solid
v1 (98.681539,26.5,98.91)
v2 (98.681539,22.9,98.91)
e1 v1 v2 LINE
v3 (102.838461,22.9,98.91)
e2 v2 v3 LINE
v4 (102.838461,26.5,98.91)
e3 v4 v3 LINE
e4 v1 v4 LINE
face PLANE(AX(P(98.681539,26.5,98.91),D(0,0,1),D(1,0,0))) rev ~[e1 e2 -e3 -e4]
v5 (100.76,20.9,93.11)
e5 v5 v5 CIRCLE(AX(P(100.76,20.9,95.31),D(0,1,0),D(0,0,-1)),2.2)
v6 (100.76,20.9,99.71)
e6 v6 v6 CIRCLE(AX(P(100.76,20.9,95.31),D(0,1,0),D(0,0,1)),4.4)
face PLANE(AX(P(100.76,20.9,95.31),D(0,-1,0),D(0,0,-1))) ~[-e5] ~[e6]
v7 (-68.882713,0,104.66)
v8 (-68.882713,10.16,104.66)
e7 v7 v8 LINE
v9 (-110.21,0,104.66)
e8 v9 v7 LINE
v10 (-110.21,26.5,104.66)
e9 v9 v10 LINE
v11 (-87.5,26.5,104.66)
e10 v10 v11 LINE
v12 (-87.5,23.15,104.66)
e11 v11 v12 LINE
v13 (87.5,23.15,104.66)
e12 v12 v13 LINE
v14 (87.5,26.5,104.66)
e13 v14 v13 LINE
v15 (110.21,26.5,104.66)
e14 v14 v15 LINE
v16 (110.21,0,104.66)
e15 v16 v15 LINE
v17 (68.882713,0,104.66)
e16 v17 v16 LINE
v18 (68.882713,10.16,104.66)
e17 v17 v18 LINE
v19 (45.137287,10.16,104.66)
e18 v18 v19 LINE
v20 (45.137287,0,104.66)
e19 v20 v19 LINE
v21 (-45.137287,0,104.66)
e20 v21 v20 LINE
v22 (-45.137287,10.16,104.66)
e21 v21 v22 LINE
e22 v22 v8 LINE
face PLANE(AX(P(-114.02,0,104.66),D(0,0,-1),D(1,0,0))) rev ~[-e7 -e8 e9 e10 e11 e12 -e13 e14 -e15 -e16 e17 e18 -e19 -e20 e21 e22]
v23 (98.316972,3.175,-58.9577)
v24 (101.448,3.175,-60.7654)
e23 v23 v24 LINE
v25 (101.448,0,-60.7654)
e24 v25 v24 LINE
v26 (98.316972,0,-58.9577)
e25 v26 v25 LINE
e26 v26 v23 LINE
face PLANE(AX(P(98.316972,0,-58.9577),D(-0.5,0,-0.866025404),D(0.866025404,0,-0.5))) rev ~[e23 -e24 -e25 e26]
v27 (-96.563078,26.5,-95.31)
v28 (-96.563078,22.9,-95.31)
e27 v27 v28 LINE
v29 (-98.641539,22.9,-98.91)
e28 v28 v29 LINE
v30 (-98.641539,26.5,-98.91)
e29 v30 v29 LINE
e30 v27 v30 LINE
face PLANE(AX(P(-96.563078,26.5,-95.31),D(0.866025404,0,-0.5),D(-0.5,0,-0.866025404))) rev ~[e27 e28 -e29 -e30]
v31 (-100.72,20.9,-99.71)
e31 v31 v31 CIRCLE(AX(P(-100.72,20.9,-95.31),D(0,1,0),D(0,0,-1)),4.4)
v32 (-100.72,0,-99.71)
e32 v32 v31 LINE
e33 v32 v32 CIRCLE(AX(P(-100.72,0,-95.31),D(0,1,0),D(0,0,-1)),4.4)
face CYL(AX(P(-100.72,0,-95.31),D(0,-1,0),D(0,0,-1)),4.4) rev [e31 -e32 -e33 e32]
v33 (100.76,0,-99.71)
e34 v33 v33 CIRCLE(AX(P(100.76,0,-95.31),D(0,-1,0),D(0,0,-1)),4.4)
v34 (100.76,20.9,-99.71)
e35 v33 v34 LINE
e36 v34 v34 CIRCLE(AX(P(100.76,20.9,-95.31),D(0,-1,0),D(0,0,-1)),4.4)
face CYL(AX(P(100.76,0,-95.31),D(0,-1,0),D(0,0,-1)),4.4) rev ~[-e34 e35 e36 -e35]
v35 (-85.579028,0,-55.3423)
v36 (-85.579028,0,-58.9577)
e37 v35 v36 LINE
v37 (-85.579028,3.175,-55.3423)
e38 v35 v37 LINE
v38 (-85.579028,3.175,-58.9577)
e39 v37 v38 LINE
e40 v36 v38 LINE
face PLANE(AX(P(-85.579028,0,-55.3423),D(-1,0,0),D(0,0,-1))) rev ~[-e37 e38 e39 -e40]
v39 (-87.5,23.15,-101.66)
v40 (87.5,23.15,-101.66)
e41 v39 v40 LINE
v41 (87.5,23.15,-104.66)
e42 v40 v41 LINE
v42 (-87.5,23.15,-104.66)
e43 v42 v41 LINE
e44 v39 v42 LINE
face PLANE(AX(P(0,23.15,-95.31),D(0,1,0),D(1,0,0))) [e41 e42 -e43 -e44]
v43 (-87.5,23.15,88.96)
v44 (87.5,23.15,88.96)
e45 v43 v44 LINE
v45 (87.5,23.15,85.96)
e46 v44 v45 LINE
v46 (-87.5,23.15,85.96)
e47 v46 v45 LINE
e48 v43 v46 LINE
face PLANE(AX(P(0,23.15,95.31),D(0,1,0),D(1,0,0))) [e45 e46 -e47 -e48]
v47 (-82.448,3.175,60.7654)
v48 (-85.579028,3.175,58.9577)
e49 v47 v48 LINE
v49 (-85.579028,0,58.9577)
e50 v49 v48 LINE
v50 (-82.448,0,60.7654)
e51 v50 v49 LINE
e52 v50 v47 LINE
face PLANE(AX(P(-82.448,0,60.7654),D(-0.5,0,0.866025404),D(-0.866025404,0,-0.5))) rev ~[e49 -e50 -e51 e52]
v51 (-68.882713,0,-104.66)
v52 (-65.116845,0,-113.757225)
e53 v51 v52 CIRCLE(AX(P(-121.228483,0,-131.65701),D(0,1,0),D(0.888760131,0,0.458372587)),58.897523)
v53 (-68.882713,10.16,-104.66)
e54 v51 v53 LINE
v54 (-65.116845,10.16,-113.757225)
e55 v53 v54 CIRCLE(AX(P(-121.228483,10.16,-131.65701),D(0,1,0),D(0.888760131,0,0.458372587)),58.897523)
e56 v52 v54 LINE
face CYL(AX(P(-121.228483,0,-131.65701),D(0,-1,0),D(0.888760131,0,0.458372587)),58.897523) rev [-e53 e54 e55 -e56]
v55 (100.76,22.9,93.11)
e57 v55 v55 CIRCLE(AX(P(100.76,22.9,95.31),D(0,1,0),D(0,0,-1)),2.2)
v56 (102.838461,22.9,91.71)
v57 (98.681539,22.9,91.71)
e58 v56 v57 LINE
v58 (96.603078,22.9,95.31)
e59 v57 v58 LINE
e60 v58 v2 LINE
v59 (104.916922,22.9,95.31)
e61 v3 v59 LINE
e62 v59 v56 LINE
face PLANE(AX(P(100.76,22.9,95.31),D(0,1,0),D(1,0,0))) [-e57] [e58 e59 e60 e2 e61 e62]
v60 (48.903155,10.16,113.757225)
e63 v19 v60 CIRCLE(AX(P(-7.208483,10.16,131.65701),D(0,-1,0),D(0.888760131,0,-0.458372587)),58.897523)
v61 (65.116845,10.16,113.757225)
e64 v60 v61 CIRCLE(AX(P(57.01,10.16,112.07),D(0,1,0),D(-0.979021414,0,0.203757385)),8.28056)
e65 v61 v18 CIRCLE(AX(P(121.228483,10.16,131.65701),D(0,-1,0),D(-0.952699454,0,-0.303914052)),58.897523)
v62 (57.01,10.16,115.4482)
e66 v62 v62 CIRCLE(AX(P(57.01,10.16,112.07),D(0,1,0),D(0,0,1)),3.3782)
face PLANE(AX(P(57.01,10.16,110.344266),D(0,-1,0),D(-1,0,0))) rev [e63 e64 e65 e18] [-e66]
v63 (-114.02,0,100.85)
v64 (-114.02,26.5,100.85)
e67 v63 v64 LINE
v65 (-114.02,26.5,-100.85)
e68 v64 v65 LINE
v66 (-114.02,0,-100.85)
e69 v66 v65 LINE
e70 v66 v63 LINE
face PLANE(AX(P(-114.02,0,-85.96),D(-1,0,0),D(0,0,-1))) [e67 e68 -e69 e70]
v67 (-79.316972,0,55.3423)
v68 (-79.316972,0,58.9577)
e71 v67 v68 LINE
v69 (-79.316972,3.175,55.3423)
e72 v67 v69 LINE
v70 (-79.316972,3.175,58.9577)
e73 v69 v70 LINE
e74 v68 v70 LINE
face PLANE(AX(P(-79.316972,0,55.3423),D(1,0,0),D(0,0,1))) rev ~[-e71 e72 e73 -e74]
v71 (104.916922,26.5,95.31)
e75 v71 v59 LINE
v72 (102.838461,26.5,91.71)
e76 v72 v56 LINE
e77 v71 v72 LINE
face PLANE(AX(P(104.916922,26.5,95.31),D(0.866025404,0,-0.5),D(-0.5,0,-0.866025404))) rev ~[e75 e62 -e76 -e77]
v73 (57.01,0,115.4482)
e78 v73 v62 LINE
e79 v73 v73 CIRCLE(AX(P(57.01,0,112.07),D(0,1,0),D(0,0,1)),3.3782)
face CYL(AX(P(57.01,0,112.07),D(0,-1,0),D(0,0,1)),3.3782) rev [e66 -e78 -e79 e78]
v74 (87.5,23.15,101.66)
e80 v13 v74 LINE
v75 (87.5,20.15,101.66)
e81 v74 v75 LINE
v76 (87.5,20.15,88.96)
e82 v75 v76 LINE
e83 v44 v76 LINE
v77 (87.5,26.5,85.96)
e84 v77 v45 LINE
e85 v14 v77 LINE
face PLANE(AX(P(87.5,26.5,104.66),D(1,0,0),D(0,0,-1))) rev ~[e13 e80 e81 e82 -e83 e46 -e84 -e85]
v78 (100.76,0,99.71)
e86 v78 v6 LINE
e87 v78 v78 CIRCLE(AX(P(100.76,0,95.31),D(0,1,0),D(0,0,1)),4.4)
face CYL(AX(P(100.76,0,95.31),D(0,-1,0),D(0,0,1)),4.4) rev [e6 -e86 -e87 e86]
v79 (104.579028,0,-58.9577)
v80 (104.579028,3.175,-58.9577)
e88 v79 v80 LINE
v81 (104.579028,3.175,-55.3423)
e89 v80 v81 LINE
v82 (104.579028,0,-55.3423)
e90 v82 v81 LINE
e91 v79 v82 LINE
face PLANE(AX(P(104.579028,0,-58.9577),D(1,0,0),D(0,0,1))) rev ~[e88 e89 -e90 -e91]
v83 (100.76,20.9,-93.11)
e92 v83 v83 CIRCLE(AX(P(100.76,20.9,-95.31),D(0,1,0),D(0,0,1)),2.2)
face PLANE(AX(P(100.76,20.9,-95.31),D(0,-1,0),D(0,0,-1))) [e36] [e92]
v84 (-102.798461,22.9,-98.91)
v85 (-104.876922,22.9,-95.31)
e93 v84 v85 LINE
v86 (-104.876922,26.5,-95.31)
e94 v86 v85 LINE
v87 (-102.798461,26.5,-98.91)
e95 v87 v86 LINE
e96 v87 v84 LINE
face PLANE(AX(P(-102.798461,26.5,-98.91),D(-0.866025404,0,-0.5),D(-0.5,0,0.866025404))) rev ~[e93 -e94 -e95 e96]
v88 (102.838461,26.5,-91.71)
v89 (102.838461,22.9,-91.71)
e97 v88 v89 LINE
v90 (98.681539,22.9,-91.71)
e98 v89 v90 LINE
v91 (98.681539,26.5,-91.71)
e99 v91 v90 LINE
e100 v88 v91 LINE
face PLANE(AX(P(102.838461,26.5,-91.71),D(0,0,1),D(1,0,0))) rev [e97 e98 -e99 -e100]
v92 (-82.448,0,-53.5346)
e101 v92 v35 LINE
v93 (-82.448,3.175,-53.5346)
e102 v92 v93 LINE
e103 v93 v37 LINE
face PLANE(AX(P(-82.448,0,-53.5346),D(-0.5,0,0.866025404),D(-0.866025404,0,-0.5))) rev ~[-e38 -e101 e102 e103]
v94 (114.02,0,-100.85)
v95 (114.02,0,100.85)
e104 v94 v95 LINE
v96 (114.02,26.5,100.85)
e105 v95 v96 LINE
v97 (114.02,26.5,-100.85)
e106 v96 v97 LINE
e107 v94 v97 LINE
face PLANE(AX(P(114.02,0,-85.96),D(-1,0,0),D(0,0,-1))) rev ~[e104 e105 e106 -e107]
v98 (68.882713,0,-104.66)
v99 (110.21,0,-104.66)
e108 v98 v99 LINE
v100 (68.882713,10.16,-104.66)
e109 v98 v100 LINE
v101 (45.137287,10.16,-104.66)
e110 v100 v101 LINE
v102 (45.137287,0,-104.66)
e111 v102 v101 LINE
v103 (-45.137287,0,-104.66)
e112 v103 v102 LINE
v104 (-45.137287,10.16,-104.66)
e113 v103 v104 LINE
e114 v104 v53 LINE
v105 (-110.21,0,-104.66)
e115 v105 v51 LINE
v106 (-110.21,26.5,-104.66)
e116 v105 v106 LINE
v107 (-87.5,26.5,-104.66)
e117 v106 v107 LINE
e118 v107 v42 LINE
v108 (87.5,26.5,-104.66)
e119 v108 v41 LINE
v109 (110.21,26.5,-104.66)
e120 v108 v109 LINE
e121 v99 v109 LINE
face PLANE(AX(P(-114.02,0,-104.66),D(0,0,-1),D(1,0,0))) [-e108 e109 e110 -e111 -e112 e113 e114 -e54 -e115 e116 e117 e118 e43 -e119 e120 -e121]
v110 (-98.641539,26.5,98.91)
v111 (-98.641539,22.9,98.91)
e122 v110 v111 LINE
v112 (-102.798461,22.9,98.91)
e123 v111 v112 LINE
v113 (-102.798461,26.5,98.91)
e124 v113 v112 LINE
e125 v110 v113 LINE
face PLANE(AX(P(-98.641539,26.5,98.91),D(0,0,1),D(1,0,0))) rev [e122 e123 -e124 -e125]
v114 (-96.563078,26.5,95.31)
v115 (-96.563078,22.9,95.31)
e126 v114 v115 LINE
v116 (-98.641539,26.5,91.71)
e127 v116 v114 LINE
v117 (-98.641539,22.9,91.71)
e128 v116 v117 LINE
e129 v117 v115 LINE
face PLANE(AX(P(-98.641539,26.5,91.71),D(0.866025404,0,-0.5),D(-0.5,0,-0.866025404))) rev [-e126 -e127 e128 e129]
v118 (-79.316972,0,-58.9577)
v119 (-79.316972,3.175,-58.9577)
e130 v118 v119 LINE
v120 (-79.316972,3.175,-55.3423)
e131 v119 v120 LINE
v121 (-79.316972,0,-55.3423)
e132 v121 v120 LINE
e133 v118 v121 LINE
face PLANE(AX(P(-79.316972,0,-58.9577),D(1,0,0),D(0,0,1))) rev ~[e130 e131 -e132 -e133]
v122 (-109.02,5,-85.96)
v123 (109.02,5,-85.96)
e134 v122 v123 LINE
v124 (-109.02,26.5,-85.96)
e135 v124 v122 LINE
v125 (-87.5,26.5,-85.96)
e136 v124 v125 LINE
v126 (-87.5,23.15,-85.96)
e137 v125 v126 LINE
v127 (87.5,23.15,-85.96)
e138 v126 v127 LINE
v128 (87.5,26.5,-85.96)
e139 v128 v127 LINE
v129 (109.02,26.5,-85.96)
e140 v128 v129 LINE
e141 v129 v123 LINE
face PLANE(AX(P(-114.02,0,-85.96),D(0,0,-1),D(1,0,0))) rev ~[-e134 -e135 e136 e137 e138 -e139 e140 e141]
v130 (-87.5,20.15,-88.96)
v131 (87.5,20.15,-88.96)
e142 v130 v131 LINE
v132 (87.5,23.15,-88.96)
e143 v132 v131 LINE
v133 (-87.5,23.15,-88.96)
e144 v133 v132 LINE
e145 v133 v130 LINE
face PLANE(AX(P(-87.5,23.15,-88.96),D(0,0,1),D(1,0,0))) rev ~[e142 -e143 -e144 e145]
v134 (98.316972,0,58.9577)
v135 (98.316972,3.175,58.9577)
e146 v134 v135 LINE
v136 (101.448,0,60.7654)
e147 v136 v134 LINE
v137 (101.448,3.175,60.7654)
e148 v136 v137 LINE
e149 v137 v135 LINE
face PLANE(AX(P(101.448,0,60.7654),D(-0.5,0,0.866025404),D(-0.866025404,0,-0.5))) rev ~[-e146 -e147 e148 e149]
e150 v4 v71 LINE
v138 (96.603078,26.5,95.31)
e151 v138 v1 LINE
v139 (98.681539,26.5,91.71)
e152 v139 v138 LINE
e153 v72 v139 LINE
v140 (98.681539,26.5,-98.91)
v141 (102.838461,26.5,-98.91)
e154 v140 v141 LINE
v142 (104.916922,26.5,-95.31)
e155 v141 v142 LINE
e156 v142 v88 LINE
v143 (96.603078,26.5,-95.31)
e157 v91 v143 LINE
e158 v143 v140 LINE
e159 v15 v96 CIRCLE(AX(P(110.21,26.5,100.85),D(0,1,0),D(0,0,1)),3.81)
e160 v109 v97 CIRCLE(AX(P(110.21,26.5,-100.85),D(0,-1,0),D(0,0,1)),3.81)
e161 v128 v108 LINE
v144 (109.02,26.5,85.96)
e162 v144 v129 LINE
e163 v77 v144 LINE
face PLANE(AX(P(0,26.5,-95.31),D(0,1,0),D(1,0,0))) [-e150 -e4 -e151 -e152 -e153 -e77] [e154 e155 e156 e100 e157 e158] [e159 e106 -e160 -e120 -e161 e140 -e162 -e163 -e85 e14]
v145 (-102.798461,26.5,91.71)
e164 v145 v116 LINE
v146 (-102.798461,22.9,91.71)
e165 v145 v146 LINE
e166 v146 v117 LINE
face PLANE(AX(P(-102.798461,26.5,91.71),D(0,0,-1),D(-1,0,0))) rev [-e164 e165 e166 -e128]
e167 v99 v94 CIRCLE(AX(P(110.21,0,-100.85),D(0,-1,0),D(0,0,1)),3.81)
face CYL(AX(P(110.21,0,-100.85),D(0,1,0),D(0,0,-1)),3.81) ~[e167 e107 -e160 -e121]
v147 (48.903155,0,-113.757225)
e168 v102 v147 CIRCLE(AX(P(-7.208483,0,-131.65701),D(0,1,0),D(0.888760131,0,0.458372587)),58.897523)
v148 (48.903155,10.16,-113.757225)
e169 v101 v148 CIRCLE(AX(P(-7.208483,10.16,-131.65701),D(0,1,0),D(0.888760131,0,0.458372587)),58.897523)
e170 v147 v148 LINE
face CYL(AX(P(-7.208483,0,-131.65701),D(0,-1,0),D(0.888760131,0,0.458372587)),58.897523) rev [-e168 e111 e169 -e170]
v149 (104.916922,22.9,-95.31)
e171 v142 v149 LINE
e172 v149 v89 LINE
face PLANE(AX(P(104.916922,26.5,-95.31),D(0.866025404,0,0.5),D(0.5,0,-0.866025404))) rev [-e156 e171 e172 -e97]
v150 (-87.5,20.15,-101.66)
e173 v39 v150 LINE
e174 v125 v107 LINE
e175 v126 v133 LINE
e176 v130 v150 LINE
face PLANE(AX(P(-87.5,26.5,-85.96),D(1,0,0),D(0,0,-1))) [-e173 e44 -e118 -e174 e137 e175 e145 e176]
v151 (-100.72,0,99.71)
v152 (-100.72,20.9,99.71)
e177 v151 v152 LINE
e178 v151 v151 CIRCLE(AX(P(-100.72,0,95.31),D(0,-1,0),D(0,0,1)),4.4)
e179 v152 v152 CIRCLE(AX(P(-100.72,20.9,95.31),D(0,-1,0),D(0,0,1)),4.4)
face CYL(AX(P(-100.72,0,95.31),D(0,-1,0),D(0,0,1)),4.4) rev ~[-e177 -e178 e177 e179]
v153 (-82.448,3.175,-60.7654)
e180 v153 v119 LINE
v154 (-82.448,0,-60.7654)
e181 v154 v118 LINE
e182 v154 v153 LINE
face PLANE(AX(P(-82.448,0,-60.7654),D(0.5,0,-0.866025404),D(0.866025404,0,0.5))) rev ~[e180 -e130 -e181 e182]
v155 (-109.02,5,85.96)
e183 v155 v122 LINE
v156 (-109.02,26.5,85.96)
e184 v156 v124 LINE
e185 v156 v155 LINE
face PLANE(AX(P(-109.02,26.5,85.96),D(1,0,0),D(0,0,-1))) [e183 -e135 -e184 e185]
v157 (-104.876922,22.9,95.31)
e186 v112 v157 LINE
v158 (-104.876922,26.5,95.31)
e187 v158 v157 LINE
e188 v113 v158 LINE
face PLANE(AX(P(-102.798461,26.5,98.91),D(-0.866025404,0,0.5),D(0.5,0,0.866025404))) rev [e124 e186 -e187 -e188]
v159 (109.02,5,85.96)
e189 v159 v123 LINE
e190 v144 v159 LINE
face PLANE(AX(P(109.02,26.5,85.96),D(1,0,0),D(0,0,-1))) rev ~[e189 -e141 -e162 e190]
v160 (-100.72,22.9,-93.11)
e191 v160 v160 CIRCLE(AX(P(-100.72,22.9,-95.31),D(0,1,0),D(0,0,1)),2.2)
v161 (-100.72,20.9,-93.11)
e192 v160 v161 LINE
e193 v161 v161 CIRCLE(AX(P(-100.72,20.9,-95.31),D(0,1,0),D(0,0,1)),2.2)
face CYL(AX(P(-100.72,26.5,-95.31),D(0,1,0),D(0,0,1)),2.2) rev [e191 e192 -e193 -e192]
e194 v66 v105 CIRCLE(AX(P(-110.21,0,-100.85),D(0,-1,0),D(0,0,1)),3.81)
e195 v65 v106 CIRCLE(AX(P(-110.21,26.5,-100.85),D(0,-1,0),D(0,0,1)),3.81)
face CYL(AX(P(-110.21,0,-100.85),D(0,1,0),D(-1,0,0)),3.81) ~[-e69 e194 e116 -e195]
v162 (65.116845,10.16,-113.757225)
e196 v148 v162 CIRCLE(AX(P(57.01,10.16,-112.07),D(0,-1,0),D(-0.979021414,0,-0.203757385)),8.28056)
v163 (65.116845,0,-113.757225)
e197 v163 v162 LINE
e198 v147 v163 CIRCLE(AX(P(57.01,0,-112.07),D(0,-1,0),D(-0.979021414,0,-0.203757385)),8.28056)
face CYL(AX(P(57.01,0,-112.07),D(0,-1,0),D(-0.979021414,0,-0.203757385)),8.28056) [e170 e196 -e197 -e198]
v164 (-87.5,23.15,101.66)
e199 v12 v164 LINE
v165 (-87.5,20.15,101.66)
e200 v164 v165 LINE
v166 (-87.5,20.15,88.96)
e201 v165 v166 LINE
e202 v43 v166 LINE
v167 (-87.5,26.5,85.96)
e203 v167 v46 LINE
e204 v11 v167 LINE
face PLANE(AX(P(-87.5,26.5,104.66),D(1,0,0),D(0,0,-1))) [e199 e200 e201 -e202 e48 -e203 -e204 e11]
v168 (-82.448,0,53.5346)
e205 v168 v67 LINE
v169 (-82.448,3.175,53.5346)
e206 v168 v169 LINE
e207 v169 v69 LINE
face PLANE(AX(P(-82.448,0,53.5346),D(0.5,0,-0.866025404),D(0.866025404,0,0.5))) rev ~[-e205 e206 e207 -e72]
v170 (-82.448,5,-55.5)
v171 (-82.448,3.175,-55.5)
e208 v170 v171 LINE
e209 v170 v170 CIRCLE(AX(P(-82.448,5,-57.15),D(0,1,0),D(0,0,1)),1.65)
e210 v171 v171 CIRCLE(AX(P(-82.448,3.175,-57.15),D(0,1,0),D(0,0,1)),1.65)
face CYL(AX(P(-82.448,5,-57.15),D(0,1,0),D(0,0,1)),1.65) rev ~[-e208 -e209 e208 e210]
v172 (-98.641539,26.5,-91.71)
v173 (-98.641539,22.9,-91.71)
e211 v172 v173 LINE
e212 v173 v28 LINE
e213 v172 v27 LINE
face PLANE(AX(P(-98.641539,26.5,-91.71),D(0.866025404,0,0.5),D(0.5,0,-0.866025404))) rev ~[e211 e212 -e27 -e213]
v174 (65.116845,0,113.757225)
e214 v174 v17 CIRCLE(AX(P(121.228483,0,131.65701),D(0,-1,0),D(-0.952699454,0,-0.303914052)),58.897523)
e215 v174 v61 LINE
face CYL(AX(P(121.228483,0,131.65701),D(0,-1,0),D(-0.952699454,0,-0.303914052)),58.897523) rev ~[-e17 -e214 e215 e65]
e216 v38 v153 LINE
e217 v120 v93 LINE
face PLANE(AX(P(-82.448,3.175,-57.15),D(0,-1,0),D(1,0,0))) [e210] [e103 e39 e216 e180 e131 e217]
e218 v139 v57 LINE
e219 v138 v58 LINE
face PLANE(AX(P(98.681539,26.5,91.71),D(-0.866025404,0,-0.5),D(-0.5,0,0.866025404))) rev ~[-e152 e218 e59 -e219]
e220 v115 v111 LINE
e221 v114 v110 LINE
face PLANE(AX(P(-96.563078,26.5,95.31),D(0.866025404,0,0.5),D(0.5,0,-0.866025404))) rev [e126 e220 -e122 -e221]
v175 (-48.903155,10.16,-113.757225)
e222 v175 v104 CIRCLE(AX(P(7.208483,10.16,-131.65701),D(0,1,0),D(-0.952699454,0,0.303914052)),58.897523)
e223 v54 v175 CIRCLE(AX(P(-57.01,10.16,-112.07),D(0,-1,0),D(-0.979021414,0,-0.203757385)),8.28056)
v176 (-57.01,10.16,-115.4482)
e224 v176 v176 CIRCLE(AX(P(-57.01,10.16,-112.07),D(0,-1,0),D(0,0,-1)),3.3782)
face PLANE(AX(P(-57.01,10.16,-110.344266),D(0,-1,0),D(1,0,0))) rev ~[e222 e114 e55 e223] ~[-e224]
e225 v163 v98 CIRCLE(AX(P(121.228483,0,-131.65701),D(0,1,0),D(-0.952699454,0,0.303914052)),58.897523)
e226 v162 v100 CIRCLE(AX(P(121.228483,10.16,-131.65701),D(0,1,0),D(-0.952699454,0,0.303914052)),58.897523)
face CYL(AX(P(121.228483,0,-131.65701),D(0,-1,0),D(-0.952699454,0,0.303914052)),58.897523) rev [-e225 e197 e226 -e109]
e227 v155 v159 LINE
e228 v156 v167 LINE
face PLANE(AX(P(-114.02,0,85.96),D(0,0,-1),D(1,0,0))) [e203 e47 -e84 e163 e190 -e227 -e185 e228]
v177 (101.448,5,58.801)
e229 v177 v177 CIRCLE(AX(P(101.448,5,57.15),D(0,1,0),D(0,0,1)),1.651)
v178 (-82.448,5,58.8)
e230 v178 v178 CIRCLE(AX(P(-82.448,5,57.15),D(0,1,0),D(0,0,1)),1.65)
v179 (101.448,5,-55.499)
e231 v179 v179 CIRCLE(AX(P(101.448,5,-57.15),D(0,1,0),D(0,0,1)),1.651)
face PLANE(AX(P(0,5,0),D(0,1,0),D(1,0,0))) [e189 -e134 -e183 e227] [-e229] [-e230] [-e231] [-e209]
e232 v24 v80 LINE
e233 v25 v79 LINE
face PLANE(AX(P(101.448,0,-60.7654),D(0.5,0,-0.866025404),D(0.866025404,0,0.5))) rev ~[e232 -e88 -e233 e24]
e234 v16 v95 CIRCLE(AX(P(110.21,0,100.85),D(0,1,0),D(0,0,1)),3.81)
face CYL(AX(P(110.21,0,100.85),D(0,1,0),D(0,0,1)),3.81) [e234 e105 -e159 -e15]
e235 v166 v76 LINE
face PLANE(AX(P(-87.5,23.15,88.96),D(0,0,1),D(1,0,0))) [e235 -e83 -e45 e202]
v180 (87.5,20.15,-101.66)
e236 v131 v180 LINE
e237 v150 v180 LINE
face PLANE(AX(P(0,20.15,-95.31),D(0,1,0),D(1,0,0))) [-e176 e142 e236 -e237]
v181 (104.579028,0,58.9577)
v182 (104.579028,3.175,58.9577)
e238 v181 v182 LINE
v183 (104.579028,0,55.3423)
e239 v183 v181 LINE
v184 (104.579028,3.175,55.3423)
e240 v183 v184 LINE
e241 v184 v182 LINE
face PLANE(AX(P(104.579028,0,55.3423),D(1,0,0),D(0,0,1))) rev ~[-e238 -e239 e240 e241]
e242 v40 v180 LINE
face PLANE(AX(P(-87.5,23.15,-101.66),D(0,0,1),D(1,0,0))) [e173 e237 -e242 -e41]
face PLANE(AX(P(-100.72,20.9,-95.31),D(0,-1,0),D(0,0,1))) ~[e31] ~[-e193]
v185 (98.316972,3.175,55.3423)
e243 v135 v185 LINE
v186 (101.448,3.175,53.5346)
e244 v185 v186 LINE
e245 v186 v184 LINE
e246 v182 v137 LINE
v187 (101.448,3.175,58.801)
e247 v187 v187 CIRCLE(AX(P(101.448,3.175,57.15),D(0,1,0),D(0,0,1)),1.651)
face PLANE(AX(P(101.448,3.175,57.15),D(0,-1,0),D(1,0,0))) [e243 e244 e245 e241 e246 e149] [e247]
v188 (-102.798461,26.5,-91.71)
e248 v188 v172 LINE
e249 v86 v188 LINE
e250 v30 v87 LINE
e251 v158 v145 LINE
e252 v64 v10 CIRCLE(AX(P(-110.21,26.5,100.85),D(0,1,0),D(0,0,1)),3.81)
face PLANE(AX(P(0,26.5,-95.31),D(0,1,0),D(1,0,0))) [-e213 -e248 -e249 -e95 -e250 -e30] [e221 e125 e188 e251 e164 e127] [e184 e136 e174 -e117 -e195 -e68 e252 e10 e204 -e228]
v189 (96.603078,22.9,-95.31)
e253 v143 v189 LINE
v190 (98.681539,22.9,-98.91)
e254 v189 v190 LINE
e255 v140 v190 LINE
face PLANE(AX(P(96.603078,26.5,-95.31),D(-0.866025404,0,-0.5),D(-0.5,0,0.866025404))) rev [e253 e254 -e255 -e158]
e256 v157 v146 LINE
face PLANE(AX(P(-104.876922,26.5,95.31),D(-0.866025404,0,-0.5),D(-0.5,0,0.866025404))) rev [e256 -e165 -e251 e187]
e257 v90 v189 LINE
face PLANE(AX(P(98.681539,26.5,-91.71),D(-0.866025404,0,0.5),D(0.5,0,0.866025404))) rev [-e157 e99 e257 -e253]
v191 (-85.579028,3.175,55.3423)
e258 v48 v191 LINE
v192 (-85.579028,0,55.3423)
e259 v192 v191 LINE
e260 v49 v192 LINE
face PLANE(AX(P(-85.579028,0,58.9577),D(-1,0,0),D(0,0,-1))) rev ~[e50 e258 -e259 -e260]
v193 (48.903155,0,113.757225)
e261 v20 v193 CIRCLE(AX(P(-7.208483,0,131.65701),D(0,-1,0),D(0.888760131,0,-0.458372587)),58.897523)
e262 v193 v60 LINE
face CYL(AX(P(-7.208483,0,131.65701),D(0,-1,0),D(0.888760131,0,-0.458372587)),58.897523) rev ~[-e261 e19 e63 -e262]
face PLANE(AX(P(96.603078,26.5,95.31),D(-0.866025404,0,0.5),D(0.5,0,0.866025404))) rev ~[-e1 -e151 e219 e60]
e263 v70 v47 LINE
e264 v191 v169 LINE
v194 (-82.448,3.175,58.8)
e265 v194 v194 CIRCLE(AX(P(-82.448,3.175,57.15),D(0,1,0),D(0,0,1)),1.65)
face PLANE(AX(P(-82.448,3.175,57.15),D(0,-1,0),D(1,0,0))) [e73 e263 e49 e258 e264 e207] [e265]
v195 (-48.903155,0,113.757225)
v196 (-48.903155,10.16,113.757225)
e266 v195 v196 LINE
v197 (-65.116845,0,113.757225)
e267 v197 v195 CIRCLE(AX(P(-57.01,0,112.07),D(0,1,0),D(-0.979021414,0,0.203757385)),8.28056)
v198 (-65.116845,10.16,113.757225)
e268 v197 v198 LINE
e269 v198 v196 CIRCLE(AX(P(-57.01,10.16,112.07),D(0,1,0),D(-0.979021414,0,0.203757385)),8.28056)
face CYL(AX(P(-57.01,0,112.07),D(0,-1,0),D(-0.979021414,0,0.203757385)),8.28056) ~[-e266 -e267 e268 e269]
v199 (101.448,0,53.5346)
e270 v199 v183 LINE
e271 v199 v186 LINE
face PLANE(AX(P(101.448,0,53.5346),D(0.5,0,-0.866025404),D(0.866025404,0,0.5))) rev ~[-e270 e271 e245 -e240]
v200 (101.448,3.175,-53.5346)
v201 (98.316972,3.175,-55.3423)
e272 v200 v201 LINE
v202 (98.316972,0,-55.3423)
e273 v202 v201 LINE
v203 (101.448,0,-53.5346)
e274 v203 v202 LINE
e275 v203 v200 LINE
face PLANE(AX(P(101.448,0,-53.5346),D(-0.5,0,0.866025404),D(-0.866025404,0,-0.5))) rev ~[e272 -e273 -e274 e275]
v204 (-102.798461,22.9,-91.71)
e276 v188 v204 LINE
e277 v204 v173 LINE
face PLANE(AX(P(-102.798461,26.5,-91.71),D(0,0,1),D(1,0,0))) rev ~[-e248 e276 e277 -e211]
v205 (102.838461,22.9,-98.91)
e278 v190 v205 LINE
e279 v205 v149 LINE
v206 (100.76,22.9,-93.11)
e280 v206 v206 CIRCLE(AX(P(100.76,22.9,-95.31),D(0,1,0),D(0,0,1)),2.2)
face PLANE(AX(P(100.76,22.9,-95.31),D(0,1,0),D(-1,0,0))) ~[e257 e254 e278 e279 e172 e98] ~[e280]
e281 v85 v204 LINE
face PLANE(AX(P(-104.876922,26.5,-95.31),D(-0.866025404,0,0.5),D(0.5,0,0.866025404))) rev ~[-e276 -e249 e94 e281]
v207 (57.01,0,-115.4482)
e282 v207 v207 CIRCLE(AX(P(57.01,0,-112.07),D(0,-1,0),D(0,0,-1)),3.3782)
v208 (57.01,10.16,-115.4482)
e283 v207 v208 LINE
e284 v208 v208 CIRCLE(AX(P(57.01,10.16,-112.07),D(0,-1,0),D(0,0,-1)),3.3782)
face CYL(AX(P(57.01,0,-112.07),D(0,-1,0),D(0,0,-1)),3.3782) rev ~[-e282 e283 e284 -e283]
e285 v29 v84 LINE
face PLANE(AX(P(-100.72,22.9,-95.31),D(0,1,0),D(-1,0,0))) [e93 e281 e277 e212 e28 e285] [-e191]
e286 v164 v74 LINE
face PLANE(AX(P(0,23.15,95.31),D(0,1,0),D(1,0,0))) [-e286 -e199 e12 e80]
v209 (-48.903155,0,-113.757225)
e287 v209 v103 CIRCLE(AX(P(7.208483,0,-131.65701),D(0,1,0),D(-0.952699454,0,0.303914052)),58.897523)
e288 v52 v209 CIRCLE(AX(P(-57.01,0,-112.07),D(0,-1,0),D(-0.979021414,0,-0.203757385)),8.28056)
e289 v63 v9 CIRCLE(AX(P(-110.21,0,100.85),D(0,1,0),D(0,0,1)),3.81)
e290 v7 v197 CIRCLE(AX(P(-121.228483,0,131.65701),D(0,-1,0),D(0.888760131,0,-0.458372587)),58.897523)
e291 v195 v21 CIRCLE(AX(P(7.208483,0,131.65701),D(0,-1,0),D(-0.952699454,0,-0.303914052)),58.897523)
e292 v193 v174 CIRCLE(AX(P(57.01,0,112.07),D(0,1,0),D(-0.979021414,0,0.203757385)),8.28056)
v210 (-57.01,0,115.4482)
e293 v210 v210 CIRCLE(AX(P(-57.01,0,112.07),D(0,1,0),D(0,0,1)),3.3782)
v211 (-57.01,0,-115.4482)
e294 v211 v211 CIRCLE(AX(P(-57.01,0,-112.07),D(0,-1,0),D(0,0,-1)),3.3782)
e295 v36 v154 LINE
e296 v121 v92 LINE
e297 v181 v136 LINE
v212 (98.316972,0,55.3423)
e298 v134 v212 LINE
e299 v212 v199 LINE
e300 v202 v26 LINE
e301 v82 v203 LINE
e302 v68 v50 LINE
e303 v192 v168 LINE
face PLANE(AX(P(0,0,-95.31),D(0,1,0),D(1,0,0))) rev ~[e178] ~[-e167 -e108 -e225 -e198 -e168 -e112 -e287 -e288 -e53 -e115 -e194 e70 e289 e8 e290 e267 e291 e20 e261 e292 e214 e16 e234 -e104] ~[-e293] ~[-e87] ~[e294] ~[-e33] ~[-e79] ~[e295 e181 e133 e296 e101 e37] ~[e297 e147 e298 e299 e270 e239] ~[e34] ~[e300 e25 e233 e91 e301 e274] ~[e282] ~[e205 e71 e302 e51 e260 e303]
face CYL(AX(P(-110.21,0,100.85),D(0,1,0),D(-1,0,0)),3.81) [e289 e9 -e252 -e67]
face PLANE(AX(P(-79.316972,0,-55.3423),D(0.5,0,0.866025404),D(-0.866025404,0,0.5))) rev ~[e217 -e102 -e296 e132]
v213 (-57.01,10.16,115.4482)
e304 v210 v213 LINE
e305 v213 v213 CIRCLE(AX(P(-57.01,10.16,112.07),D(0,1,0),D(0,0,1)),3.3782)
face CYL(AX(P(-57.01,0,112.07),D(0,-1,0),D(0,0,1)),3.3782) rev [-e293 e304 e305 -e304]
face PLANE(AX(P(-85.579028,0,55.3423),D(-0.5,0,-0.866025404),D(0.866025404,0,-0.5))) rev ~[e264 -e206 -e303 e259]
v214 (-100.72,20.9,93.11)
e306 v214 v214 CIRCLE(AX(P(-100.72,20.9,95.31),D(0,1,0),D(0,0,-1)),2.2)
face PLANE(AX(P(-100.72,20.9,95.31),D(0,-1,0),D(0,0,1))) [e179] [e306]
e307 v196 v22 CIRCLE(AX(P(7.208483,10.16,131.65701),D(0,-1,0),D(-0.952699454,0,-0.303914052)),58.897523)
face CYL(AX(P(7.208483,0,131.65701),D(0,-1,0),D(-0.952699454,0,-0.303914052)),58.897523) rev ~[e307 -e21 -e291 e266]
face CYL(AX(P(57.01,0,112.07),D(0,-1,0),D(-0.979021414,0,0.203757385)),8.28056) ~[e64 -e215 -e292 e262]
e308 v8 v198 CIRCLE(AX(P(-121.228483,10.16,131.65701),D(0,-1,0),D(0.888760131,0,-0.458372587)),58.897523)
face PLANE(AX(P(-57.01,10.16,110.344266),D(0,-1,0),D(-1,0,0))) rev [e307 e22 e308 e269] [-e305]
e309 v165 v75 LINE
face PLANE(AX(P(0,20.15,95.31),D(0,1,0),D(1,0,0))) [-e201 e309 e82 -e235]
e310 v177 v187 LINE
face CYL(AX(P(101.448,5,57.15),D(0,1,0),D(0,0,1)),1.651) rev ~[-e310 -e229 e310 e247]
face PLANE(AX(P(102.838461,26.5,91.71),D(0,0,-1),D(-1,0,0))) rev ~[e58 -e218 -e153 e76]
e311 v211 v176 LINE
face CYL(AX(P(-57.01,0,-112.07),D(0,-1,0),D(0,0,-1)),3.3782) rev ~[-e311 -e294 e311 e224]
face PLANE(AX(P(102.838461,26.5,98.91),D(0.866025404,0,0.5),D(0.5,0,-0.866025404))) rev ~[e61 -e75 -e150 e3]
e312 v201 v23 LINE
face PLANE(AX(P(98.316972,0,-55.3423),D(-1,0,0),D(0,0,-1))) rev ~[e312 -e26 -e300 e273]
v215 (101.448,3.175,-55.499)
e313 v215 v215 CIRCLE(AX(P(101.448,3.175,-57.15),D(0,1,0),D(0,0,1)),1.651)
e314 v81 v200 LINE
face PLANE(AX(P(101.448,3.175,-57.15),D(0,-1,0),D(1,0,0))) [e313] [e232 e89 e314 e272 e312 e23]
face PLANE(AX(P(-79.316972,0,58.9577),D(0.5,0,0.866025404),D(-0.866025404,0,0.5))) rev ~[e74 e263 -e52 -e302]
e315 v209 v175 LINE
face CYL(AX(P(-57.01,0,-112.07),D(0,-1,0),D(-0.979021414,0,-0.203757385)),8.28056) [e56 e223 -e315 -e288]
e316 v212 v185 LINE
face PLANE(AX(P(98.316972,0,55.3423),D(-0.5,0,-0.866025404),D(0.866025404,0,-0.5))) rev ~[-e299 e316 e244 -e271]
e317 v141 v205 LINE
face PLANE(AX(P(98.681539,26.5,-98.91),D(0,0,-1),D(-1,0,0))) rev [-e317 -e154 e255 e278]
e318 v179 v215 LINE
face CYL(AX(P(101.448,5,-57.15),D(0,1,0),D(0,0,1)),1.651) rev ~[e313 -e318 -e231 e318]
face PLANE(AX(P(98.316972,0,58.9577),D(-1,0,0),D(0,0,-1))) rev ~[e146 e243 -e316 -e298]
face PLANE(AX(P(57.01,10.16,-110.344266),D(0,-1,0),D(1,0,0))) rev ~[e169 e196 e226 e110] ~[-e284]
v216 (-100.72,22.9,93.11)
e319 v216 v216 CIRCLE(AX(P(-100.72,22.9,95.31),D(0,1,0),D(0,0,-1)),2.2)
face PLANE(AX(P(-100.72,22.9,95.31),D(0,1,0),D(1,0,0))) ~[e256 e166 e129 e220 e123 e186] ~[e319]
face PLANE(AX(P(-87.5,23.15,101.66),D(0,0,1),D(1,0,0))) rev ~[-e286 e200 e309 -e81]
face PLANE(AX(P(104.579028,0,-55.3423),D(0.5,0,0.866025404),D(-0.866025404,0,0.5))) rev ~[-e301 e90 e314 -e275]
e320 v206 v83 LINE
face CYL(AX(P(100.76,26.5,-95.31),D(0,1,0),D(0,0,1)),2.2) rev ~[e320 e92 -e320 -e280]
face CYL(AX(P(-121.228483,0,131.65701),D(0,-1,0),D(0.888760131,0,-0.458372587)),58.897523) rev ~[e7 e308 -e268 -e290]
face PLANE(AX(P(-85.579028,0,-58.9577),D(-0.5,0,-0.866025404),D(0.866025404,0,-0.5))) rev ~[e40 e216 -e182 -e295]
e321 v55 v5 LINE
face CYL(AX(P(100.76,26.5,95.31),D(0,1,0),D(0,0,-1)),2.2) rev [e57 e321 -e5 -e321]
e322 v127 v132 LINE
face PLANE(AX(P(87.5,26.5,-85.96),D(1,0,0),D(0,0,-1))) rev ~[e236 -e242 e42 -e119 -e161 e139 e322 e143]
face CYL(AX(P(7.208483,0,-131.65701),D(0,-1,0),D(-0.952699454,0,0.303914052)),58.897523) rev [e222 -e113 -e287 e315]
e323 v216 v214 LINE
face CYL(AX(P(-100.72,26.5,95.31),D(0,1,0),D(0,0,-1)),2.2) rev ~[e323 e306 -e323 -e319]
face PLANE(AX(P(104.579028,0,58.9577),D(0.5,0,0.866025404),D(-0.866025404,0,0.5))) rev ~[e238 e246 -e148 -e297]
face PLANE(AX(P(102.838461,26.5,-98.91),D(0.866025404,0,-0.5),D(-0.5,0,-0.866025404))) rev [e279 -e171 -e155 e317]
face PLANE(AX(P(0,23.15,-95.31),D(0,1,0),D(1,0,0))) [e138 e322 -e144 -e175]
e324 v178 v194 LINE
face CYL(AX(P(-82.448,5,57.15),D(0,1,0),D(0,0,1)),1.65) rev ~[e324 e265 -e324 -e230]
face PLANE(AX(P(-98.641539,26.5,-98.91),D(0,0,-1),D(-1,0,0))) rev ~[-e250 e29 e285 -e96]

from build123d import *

# Parameters (mm, degrees)
SKETCH18_W              = 228.04
SKETCH18_H              = 171.92
BOSS_EXTRUDE6_DEPTH     = 26.5
SKETCH20_W              = 218.04
SKETCH20_H              = 171.92
CUT_EXTRUDE6_DEPTH      = 21.5
SKETCH22_W              = 228.04
SKETCH22_H              = 18.7
BOSS_EXTRUDE7_DEPTH     = 26.5
SKETCH23_W              = 228.04
SKETCH23_H              = 18.7
BOSS_EXTRUDE8_DEPTH     = 26.5
SKETCH24_W              = 175
SKETCH24_H              = 18.7
CUT_EXTRUDE7_DEPTH      = 3.35
SKETCH25_W              = 175
SKETCH25_H              = 18.7
CUT_EXTRUDE8_DEPTH      = 3.35
SKETCH27_W              = 175
SKETCH27_H              = 12.7
CUT_EXTRUDE9_DEPTH      = 3
SKETCH28_W              = 175
SKETCH28_H              = 12.7
CUT_EXTRUDE10_DEPTH     = 3
SKETCH31_R              = 1.65
SKETCH31_R_2            = 1.651
CUT_EXTRUDE15_DEPTH     = 1.825
CUT_EXTRUDE17_DEPTH     = 3.175
SKETCH39_R              = 2.2
CUT_EXTRUDE18_DEPTH     = 26.5
SKETCH40_R              = 4.4
CUT_EXTRUDE19_DEPTH     = 20.9
FILLET1_R               = 3.81
CUT_EXTRUDE20_DEPTH     = 3.6
SKETCH47_R              = 3.3782
BOSS_EXTRUDE14_DEPTH    = 10.16
MIRROR8_COPY_1_SKETCH_R = 2.2
MIRROR8_COPY_1_DEPTH    = 26.5
MIRROR8_COPY_2_SKETCH_R = 4.4
MIRROR8_COPY_2_DEPTH    = 20.9
MIRROR8_COPY_3_DEPTH    = 3.6


with BuildPart() as part:
    # Sketch18 → Boss-Extrude6 (new body)
    with BuildSketch(Plane(origin=(0, 0, 0), x_dir=(1, 0, 0), z_dir=(0, 1, 0))):
        Rectangle(SKETCH18_W, SKETCH18_H)
    extrude(amount=BOSS_EXTRUDE6_DEPTH)

    # Sketch20 → Cut-Extrude6 (cut)
    with BuildSketch(Plane(origin=(0, 26.5, 0), x_dir=(1, 0, 0), z_dir=(0, 1, 0))):
        Rectangle(SKETCH20_W, SKETCH20_H)
    extrude(amount=-CUT_EXTRUDE6_DEPTH, mode=Mode.SUBTRACT)

    # Sketch22 → Boss-Extrude7 (add)
    with BuildSketch(Plane(origin=(0, 0, 0), x_dir=(1, 0, 0), z_dir=(0, 1, 0))):
        with Locations((0, -95.31)):
            Rectangle(SKETCH22_W, SKETCH22_H)
    extrude(amount=BOSS_EXTRUDE7_DEPTH)

    # Sketch23 → Boss-Extrude8 (add)
    with BuildSketch(Plane(origin=(0, 0, 0), x_dir=(1, 0, 0), z_dir=(0, 1, 0))):
        with Locations((0, 95.31)):
            Rectangle(SKETCH23_W, SKETCH23_H)
    extrude(amount=BOSS_EXTRUDE8_DEPTH)

    # Sketch24 → Cut-Extrude7 (cut)
    with BuildSketch(Plane(origin=(0, 26.5, 0), x_dir=(1, 0, 0), z_dir=(0, 1, 0))):
        with Locations((0, 95.31)):
            Rectangle(SKETCH24_W, SKETCH24_H)
    extrude(amount=-CUT_EXTRUDE7_DEPTH, mode=Mode.SUBTRACT)

    # Sketch25 → Cut-Extrude8 (cut)
    with BuildSketch(Plane(origin=(0, 26.5, 0), x_dir=(1, 0, 0), z_dir=(0, 1, 0))):
        with Locations((0, -95.31)):
            Rectangle(SKETCH25_W, SKETCH25_H)
    extrude(amount=-CUT_EXTRUDE8_DEPTH, mode=Mode.SUBTRACT)

    # Sketch27 → Cut-Extrude9 (cut)
    with BuildSketch(Plane(origin=(0, 23.15, 0), x_dir=(1, 0, 0), z_dir=(0, 1, 0))):
        with Locations((0, -95.31)):
            Rectangle(SKETCH27_W, SKETCH27_H)
    extrude(amount=-CUT_EXTRUDE9_DEPTH, mode=Mode.SUBTRACT)

    # Sketch28 → Cut-Extrude10 (cut)
    with BuildSketch(Plane(origin=(0, 23.15, 0), x_dir=(1, 0, 0), z_dir=(0, 1, 0))):
        with Locations((0, 95.31)):
            Rectangle(SKETCH28_W, SKETCH28_H)
    extrude(amount=-CUT_EXTRUDE10_DEPTH, mode=Mode.SUBTRACT)

    # Sketch31 → Cut-Extrude15 (cut)
    with BuildSketch(Plane(origin=(0, 5, 0), x_dir=(1, 0, 0), z_dir=(0, 1, 0))):
        with Locations((-82.448, 57.15)):
            Circle(SKETCH31_R)
        with Locations((101.448, 57.15)):
            Circle(SKETCH31_R_2)
        with Locations((101.448, -57.15)):
            Circle(SKETCH31_R_2)
        with Locations((-82.448, -57.15)):
            Circle(SKETCH31_R)
    extrude(amount=-CUT_EXTRUDE15_DEPTH, mode=Mode.SUBTRACT)

    # Sketch33 → Cut-Extrude17 (cut)
    with BuildSketch(Plane.XZ):
        Polygon((-79.316971755, -58.9577), (-79.316971755, -55.3423), (-82.448, -53.5346), (-85.579028245, -55.3423), (-85.579028245, -58.9577), (-82.448, -60.7654), align=None)
        Polygon((104.579028245, -58.9577), (104.579028245, -55.3423), (101.448, -53.5346), (98.316971755, -55.3423), (98.316971755, -58.9577), (101.448, -60.7654), align=None)
        Polygon((-79.316971755, 58.9577), (-82.448, 60.7654), (-85.579028245, 58.9577), (-85.579028245, 55.3423), (-82.448, 53.5346), (-79.316971755, 55.3423), align=None)
        Polygon((98.316971755, 58.9577), (98.316971755, 55.3423), (101.448, 53.5346), (104.579028245, 55.3423), (104.579028245, 58.9577), (101.448, 60.7654), align=None)
    extrude(amount=-CUT_EXTRUDE17_DEPTH, mode=Mode.SUBTRACT)

    # Sketch39 → Cut-Extrude18 (cut)
    with BuildSketch(Plane(origin=(0, 26.5, 0), x_dir=(1, 0, 0), z_dir=(0, 1, 0))):
        with Locations((100.76, 95.31)):
            Circle(SKETCH39_R)
    cut_extrude18 = extrude(amount=-CUT_EXTRUDE18_DEPTH, mode=Mode.SUBTRACT)

    # Sketch40 → Cut-Extrude19 (cut)
    with BuildSketch(Plane.XZ):
        with Locations((100.76, -95.31)):
            Circle(SKETCH40_R)
    cut_extrude19 = extrude(amount=-CUT_EXTRUDE19_DEPTH, mode=Mode.SUBTRACT)

    # Mirror3: Cut-Extrude18 across plane
    add(cut_extrude18.mirror(Plane.XY), mode=Mode.SUBTRACT)

    # Mirror4: Cut-Extrude19 across plane
    add(cut_extrude19.mirror(Plane.XY), mode=Mode.SUBTRACT)

    # Fillet1
    fillet1_edges = [part.edges().sort_by_distance(p)[0] for p in [
        (114.02, 13.25, 104.66),
        (-114.02, 13.25, 104.66),
        (-114.02, 13.25, -104.66),
        (114.02, 13.25, -104.66),
    ]]
    fillet(fillet1_edges, radius=FILLET1_R)

    # Sketch41 → Cut-Extrude20 (cut)
    with BuildSketch(Plane(origin=(0, 26.5, 0), x_dir=(1, 0, 0), z_dir=(0, 1, 0))):
        Polygon((98.681539031, -91.71), (96.603078062, -95.31), (98.681539031, -98.91), (102.838460969, -98.91), (104.916921938, -95.31), (102.838460969, -91.71), align=None)
    cut_extrude20 = extrude(amount=-CUT_EXTRUDE20_DEPTH, mode=Mode.SUBTRACT)

    # Mirror5: Cut-Extrude20 across plane
    add(cut_extrude20.mirror(Plane.XY), mode=Mode.SUBTRACT)

    # Sketch47 → Boss-Extrude14 (add)
    # profile 1 of 2: a face of its own
    with BuildSketch(Plane.XZ):
        with BuildLine():
            ThreePointArc((45.13728714, -104.66), (47.210651626, -109.12978233), (48.903154853, -113.757225166))
            ThreePointArc((48.903154853, -113.757225166), (57.01, -120.350559583), (65.116845147, -113.757225166))
            ThreePointArc((65.116845147, -113.757225166), (66.809348374, -109.12978233), (68.88271286, -104.66))
            Line((68.88271286, -104.66), (57.122870876, -104.66))
            Line((57.122870876, -104.66), (45.13728714, -104.66))
        make_face()
        with Locations((57.01, -112.07)):
            Circle(SKETCH47_R, mode=Mode.SUBTRACT)
    # profile 2 of 2: a face of its own
    with BuildSketch(Plane.XZ):
        with BuildLine():
            ThreePointArc((-48.903154853, -113.757225166), (-47.210651626, -109.12978233), (-45.13728714, -104.66))
            Line((-45.13728714, -104.66), (-57.122870876, -104.66))
            Line((-57.122870876, -104.66), (-68.88271286, -104.66))
            ThreePointArc((-68.88271286, -104.66), (-66.809348374, -109.12978233), (-65.116845147, -113.757225166))
            ThreePointArc((-65.116845147, -113.757225166), (-57.01, -120.350559583), (-48.903154853, -113.757225166))
        make_face()
        with Locations((-57.01, -112.07)):
            Circle(SKETCH47_R, mode=Mode.SUBTRACT)
    boss_extrude14 = extrude(amount=-BOSS_EXTRUDE14_DEPTH)

    # Mirror6: Boss-Extrude14 across plane
    add(boss_extrude14.mirror(Plane.XY))

    # Mirror8: Cut-Extrude18, Cut-Extrude19, Cut-Extrude20 across plane
    add(cut_extrude18.mirror(Plane.ZY.offset(-0.02)), mode=Mode.SUBTRACT)
    add(cut_extrude19.mirror(Plane.ZY.offset(-0.02)), mode=Mode.SUBTRACT)
    add(cut_extrude20.mirror(Plane.ZY.offset(-0.02)), mode=Mode.SUBTRACT)

    # Mirror8 copy 1 sketch → Mirror8 copy 1 (cut)
    with BuildSketch(Plane(origin=(0.04, 26.5, 0), x_dir=(-1, 0, 0), z_dir=(0, 1, 0))):
        with Locations((100.76, 95.31)):
            Circle(MIRROR8_COPY_1_SKETCH_R)
    extrude(amount=-MIRROR8_COPY_1_DEPTH, mode=Mode.SUBTRACT)

    # Mirror8 copy 2 sketch → Mirror8 copy 2 (cut)
    with BuildSketch(Plane(origin=(0.04, 0, 0), x_dir=(-1, 0, 0), z_dir=(0, -1, 0))):
        with Locations((100.76, -95.31)):
            Circle(MIRROR8_COPY_2_SKETCH_R)
    extrude(amount=-MIRROR8_COPY_2_DEPTH, mode=Mode.SUBTRACT)

    # Mirror8 copy 3 sketch → Mirror8 copy 3 (cut)
    with BuildSketch(Plane(origin=(0.04, 26.5, 0), x_dir=(-1, 0, 0), z_dir=(0, 1, 0))):
        Polygon((98.681539031, -91.71), (96.603078062, -95.31), (98.681539031, -98.91), (102.838460969, -98.91), (104.916921938, -95.31), (102.838460969, -91.71), align=None)
    extrude(amount=-MIRROR8_COPY_3_DEPTH, mode=Mode.SUBTRACT)


solid = part.part
